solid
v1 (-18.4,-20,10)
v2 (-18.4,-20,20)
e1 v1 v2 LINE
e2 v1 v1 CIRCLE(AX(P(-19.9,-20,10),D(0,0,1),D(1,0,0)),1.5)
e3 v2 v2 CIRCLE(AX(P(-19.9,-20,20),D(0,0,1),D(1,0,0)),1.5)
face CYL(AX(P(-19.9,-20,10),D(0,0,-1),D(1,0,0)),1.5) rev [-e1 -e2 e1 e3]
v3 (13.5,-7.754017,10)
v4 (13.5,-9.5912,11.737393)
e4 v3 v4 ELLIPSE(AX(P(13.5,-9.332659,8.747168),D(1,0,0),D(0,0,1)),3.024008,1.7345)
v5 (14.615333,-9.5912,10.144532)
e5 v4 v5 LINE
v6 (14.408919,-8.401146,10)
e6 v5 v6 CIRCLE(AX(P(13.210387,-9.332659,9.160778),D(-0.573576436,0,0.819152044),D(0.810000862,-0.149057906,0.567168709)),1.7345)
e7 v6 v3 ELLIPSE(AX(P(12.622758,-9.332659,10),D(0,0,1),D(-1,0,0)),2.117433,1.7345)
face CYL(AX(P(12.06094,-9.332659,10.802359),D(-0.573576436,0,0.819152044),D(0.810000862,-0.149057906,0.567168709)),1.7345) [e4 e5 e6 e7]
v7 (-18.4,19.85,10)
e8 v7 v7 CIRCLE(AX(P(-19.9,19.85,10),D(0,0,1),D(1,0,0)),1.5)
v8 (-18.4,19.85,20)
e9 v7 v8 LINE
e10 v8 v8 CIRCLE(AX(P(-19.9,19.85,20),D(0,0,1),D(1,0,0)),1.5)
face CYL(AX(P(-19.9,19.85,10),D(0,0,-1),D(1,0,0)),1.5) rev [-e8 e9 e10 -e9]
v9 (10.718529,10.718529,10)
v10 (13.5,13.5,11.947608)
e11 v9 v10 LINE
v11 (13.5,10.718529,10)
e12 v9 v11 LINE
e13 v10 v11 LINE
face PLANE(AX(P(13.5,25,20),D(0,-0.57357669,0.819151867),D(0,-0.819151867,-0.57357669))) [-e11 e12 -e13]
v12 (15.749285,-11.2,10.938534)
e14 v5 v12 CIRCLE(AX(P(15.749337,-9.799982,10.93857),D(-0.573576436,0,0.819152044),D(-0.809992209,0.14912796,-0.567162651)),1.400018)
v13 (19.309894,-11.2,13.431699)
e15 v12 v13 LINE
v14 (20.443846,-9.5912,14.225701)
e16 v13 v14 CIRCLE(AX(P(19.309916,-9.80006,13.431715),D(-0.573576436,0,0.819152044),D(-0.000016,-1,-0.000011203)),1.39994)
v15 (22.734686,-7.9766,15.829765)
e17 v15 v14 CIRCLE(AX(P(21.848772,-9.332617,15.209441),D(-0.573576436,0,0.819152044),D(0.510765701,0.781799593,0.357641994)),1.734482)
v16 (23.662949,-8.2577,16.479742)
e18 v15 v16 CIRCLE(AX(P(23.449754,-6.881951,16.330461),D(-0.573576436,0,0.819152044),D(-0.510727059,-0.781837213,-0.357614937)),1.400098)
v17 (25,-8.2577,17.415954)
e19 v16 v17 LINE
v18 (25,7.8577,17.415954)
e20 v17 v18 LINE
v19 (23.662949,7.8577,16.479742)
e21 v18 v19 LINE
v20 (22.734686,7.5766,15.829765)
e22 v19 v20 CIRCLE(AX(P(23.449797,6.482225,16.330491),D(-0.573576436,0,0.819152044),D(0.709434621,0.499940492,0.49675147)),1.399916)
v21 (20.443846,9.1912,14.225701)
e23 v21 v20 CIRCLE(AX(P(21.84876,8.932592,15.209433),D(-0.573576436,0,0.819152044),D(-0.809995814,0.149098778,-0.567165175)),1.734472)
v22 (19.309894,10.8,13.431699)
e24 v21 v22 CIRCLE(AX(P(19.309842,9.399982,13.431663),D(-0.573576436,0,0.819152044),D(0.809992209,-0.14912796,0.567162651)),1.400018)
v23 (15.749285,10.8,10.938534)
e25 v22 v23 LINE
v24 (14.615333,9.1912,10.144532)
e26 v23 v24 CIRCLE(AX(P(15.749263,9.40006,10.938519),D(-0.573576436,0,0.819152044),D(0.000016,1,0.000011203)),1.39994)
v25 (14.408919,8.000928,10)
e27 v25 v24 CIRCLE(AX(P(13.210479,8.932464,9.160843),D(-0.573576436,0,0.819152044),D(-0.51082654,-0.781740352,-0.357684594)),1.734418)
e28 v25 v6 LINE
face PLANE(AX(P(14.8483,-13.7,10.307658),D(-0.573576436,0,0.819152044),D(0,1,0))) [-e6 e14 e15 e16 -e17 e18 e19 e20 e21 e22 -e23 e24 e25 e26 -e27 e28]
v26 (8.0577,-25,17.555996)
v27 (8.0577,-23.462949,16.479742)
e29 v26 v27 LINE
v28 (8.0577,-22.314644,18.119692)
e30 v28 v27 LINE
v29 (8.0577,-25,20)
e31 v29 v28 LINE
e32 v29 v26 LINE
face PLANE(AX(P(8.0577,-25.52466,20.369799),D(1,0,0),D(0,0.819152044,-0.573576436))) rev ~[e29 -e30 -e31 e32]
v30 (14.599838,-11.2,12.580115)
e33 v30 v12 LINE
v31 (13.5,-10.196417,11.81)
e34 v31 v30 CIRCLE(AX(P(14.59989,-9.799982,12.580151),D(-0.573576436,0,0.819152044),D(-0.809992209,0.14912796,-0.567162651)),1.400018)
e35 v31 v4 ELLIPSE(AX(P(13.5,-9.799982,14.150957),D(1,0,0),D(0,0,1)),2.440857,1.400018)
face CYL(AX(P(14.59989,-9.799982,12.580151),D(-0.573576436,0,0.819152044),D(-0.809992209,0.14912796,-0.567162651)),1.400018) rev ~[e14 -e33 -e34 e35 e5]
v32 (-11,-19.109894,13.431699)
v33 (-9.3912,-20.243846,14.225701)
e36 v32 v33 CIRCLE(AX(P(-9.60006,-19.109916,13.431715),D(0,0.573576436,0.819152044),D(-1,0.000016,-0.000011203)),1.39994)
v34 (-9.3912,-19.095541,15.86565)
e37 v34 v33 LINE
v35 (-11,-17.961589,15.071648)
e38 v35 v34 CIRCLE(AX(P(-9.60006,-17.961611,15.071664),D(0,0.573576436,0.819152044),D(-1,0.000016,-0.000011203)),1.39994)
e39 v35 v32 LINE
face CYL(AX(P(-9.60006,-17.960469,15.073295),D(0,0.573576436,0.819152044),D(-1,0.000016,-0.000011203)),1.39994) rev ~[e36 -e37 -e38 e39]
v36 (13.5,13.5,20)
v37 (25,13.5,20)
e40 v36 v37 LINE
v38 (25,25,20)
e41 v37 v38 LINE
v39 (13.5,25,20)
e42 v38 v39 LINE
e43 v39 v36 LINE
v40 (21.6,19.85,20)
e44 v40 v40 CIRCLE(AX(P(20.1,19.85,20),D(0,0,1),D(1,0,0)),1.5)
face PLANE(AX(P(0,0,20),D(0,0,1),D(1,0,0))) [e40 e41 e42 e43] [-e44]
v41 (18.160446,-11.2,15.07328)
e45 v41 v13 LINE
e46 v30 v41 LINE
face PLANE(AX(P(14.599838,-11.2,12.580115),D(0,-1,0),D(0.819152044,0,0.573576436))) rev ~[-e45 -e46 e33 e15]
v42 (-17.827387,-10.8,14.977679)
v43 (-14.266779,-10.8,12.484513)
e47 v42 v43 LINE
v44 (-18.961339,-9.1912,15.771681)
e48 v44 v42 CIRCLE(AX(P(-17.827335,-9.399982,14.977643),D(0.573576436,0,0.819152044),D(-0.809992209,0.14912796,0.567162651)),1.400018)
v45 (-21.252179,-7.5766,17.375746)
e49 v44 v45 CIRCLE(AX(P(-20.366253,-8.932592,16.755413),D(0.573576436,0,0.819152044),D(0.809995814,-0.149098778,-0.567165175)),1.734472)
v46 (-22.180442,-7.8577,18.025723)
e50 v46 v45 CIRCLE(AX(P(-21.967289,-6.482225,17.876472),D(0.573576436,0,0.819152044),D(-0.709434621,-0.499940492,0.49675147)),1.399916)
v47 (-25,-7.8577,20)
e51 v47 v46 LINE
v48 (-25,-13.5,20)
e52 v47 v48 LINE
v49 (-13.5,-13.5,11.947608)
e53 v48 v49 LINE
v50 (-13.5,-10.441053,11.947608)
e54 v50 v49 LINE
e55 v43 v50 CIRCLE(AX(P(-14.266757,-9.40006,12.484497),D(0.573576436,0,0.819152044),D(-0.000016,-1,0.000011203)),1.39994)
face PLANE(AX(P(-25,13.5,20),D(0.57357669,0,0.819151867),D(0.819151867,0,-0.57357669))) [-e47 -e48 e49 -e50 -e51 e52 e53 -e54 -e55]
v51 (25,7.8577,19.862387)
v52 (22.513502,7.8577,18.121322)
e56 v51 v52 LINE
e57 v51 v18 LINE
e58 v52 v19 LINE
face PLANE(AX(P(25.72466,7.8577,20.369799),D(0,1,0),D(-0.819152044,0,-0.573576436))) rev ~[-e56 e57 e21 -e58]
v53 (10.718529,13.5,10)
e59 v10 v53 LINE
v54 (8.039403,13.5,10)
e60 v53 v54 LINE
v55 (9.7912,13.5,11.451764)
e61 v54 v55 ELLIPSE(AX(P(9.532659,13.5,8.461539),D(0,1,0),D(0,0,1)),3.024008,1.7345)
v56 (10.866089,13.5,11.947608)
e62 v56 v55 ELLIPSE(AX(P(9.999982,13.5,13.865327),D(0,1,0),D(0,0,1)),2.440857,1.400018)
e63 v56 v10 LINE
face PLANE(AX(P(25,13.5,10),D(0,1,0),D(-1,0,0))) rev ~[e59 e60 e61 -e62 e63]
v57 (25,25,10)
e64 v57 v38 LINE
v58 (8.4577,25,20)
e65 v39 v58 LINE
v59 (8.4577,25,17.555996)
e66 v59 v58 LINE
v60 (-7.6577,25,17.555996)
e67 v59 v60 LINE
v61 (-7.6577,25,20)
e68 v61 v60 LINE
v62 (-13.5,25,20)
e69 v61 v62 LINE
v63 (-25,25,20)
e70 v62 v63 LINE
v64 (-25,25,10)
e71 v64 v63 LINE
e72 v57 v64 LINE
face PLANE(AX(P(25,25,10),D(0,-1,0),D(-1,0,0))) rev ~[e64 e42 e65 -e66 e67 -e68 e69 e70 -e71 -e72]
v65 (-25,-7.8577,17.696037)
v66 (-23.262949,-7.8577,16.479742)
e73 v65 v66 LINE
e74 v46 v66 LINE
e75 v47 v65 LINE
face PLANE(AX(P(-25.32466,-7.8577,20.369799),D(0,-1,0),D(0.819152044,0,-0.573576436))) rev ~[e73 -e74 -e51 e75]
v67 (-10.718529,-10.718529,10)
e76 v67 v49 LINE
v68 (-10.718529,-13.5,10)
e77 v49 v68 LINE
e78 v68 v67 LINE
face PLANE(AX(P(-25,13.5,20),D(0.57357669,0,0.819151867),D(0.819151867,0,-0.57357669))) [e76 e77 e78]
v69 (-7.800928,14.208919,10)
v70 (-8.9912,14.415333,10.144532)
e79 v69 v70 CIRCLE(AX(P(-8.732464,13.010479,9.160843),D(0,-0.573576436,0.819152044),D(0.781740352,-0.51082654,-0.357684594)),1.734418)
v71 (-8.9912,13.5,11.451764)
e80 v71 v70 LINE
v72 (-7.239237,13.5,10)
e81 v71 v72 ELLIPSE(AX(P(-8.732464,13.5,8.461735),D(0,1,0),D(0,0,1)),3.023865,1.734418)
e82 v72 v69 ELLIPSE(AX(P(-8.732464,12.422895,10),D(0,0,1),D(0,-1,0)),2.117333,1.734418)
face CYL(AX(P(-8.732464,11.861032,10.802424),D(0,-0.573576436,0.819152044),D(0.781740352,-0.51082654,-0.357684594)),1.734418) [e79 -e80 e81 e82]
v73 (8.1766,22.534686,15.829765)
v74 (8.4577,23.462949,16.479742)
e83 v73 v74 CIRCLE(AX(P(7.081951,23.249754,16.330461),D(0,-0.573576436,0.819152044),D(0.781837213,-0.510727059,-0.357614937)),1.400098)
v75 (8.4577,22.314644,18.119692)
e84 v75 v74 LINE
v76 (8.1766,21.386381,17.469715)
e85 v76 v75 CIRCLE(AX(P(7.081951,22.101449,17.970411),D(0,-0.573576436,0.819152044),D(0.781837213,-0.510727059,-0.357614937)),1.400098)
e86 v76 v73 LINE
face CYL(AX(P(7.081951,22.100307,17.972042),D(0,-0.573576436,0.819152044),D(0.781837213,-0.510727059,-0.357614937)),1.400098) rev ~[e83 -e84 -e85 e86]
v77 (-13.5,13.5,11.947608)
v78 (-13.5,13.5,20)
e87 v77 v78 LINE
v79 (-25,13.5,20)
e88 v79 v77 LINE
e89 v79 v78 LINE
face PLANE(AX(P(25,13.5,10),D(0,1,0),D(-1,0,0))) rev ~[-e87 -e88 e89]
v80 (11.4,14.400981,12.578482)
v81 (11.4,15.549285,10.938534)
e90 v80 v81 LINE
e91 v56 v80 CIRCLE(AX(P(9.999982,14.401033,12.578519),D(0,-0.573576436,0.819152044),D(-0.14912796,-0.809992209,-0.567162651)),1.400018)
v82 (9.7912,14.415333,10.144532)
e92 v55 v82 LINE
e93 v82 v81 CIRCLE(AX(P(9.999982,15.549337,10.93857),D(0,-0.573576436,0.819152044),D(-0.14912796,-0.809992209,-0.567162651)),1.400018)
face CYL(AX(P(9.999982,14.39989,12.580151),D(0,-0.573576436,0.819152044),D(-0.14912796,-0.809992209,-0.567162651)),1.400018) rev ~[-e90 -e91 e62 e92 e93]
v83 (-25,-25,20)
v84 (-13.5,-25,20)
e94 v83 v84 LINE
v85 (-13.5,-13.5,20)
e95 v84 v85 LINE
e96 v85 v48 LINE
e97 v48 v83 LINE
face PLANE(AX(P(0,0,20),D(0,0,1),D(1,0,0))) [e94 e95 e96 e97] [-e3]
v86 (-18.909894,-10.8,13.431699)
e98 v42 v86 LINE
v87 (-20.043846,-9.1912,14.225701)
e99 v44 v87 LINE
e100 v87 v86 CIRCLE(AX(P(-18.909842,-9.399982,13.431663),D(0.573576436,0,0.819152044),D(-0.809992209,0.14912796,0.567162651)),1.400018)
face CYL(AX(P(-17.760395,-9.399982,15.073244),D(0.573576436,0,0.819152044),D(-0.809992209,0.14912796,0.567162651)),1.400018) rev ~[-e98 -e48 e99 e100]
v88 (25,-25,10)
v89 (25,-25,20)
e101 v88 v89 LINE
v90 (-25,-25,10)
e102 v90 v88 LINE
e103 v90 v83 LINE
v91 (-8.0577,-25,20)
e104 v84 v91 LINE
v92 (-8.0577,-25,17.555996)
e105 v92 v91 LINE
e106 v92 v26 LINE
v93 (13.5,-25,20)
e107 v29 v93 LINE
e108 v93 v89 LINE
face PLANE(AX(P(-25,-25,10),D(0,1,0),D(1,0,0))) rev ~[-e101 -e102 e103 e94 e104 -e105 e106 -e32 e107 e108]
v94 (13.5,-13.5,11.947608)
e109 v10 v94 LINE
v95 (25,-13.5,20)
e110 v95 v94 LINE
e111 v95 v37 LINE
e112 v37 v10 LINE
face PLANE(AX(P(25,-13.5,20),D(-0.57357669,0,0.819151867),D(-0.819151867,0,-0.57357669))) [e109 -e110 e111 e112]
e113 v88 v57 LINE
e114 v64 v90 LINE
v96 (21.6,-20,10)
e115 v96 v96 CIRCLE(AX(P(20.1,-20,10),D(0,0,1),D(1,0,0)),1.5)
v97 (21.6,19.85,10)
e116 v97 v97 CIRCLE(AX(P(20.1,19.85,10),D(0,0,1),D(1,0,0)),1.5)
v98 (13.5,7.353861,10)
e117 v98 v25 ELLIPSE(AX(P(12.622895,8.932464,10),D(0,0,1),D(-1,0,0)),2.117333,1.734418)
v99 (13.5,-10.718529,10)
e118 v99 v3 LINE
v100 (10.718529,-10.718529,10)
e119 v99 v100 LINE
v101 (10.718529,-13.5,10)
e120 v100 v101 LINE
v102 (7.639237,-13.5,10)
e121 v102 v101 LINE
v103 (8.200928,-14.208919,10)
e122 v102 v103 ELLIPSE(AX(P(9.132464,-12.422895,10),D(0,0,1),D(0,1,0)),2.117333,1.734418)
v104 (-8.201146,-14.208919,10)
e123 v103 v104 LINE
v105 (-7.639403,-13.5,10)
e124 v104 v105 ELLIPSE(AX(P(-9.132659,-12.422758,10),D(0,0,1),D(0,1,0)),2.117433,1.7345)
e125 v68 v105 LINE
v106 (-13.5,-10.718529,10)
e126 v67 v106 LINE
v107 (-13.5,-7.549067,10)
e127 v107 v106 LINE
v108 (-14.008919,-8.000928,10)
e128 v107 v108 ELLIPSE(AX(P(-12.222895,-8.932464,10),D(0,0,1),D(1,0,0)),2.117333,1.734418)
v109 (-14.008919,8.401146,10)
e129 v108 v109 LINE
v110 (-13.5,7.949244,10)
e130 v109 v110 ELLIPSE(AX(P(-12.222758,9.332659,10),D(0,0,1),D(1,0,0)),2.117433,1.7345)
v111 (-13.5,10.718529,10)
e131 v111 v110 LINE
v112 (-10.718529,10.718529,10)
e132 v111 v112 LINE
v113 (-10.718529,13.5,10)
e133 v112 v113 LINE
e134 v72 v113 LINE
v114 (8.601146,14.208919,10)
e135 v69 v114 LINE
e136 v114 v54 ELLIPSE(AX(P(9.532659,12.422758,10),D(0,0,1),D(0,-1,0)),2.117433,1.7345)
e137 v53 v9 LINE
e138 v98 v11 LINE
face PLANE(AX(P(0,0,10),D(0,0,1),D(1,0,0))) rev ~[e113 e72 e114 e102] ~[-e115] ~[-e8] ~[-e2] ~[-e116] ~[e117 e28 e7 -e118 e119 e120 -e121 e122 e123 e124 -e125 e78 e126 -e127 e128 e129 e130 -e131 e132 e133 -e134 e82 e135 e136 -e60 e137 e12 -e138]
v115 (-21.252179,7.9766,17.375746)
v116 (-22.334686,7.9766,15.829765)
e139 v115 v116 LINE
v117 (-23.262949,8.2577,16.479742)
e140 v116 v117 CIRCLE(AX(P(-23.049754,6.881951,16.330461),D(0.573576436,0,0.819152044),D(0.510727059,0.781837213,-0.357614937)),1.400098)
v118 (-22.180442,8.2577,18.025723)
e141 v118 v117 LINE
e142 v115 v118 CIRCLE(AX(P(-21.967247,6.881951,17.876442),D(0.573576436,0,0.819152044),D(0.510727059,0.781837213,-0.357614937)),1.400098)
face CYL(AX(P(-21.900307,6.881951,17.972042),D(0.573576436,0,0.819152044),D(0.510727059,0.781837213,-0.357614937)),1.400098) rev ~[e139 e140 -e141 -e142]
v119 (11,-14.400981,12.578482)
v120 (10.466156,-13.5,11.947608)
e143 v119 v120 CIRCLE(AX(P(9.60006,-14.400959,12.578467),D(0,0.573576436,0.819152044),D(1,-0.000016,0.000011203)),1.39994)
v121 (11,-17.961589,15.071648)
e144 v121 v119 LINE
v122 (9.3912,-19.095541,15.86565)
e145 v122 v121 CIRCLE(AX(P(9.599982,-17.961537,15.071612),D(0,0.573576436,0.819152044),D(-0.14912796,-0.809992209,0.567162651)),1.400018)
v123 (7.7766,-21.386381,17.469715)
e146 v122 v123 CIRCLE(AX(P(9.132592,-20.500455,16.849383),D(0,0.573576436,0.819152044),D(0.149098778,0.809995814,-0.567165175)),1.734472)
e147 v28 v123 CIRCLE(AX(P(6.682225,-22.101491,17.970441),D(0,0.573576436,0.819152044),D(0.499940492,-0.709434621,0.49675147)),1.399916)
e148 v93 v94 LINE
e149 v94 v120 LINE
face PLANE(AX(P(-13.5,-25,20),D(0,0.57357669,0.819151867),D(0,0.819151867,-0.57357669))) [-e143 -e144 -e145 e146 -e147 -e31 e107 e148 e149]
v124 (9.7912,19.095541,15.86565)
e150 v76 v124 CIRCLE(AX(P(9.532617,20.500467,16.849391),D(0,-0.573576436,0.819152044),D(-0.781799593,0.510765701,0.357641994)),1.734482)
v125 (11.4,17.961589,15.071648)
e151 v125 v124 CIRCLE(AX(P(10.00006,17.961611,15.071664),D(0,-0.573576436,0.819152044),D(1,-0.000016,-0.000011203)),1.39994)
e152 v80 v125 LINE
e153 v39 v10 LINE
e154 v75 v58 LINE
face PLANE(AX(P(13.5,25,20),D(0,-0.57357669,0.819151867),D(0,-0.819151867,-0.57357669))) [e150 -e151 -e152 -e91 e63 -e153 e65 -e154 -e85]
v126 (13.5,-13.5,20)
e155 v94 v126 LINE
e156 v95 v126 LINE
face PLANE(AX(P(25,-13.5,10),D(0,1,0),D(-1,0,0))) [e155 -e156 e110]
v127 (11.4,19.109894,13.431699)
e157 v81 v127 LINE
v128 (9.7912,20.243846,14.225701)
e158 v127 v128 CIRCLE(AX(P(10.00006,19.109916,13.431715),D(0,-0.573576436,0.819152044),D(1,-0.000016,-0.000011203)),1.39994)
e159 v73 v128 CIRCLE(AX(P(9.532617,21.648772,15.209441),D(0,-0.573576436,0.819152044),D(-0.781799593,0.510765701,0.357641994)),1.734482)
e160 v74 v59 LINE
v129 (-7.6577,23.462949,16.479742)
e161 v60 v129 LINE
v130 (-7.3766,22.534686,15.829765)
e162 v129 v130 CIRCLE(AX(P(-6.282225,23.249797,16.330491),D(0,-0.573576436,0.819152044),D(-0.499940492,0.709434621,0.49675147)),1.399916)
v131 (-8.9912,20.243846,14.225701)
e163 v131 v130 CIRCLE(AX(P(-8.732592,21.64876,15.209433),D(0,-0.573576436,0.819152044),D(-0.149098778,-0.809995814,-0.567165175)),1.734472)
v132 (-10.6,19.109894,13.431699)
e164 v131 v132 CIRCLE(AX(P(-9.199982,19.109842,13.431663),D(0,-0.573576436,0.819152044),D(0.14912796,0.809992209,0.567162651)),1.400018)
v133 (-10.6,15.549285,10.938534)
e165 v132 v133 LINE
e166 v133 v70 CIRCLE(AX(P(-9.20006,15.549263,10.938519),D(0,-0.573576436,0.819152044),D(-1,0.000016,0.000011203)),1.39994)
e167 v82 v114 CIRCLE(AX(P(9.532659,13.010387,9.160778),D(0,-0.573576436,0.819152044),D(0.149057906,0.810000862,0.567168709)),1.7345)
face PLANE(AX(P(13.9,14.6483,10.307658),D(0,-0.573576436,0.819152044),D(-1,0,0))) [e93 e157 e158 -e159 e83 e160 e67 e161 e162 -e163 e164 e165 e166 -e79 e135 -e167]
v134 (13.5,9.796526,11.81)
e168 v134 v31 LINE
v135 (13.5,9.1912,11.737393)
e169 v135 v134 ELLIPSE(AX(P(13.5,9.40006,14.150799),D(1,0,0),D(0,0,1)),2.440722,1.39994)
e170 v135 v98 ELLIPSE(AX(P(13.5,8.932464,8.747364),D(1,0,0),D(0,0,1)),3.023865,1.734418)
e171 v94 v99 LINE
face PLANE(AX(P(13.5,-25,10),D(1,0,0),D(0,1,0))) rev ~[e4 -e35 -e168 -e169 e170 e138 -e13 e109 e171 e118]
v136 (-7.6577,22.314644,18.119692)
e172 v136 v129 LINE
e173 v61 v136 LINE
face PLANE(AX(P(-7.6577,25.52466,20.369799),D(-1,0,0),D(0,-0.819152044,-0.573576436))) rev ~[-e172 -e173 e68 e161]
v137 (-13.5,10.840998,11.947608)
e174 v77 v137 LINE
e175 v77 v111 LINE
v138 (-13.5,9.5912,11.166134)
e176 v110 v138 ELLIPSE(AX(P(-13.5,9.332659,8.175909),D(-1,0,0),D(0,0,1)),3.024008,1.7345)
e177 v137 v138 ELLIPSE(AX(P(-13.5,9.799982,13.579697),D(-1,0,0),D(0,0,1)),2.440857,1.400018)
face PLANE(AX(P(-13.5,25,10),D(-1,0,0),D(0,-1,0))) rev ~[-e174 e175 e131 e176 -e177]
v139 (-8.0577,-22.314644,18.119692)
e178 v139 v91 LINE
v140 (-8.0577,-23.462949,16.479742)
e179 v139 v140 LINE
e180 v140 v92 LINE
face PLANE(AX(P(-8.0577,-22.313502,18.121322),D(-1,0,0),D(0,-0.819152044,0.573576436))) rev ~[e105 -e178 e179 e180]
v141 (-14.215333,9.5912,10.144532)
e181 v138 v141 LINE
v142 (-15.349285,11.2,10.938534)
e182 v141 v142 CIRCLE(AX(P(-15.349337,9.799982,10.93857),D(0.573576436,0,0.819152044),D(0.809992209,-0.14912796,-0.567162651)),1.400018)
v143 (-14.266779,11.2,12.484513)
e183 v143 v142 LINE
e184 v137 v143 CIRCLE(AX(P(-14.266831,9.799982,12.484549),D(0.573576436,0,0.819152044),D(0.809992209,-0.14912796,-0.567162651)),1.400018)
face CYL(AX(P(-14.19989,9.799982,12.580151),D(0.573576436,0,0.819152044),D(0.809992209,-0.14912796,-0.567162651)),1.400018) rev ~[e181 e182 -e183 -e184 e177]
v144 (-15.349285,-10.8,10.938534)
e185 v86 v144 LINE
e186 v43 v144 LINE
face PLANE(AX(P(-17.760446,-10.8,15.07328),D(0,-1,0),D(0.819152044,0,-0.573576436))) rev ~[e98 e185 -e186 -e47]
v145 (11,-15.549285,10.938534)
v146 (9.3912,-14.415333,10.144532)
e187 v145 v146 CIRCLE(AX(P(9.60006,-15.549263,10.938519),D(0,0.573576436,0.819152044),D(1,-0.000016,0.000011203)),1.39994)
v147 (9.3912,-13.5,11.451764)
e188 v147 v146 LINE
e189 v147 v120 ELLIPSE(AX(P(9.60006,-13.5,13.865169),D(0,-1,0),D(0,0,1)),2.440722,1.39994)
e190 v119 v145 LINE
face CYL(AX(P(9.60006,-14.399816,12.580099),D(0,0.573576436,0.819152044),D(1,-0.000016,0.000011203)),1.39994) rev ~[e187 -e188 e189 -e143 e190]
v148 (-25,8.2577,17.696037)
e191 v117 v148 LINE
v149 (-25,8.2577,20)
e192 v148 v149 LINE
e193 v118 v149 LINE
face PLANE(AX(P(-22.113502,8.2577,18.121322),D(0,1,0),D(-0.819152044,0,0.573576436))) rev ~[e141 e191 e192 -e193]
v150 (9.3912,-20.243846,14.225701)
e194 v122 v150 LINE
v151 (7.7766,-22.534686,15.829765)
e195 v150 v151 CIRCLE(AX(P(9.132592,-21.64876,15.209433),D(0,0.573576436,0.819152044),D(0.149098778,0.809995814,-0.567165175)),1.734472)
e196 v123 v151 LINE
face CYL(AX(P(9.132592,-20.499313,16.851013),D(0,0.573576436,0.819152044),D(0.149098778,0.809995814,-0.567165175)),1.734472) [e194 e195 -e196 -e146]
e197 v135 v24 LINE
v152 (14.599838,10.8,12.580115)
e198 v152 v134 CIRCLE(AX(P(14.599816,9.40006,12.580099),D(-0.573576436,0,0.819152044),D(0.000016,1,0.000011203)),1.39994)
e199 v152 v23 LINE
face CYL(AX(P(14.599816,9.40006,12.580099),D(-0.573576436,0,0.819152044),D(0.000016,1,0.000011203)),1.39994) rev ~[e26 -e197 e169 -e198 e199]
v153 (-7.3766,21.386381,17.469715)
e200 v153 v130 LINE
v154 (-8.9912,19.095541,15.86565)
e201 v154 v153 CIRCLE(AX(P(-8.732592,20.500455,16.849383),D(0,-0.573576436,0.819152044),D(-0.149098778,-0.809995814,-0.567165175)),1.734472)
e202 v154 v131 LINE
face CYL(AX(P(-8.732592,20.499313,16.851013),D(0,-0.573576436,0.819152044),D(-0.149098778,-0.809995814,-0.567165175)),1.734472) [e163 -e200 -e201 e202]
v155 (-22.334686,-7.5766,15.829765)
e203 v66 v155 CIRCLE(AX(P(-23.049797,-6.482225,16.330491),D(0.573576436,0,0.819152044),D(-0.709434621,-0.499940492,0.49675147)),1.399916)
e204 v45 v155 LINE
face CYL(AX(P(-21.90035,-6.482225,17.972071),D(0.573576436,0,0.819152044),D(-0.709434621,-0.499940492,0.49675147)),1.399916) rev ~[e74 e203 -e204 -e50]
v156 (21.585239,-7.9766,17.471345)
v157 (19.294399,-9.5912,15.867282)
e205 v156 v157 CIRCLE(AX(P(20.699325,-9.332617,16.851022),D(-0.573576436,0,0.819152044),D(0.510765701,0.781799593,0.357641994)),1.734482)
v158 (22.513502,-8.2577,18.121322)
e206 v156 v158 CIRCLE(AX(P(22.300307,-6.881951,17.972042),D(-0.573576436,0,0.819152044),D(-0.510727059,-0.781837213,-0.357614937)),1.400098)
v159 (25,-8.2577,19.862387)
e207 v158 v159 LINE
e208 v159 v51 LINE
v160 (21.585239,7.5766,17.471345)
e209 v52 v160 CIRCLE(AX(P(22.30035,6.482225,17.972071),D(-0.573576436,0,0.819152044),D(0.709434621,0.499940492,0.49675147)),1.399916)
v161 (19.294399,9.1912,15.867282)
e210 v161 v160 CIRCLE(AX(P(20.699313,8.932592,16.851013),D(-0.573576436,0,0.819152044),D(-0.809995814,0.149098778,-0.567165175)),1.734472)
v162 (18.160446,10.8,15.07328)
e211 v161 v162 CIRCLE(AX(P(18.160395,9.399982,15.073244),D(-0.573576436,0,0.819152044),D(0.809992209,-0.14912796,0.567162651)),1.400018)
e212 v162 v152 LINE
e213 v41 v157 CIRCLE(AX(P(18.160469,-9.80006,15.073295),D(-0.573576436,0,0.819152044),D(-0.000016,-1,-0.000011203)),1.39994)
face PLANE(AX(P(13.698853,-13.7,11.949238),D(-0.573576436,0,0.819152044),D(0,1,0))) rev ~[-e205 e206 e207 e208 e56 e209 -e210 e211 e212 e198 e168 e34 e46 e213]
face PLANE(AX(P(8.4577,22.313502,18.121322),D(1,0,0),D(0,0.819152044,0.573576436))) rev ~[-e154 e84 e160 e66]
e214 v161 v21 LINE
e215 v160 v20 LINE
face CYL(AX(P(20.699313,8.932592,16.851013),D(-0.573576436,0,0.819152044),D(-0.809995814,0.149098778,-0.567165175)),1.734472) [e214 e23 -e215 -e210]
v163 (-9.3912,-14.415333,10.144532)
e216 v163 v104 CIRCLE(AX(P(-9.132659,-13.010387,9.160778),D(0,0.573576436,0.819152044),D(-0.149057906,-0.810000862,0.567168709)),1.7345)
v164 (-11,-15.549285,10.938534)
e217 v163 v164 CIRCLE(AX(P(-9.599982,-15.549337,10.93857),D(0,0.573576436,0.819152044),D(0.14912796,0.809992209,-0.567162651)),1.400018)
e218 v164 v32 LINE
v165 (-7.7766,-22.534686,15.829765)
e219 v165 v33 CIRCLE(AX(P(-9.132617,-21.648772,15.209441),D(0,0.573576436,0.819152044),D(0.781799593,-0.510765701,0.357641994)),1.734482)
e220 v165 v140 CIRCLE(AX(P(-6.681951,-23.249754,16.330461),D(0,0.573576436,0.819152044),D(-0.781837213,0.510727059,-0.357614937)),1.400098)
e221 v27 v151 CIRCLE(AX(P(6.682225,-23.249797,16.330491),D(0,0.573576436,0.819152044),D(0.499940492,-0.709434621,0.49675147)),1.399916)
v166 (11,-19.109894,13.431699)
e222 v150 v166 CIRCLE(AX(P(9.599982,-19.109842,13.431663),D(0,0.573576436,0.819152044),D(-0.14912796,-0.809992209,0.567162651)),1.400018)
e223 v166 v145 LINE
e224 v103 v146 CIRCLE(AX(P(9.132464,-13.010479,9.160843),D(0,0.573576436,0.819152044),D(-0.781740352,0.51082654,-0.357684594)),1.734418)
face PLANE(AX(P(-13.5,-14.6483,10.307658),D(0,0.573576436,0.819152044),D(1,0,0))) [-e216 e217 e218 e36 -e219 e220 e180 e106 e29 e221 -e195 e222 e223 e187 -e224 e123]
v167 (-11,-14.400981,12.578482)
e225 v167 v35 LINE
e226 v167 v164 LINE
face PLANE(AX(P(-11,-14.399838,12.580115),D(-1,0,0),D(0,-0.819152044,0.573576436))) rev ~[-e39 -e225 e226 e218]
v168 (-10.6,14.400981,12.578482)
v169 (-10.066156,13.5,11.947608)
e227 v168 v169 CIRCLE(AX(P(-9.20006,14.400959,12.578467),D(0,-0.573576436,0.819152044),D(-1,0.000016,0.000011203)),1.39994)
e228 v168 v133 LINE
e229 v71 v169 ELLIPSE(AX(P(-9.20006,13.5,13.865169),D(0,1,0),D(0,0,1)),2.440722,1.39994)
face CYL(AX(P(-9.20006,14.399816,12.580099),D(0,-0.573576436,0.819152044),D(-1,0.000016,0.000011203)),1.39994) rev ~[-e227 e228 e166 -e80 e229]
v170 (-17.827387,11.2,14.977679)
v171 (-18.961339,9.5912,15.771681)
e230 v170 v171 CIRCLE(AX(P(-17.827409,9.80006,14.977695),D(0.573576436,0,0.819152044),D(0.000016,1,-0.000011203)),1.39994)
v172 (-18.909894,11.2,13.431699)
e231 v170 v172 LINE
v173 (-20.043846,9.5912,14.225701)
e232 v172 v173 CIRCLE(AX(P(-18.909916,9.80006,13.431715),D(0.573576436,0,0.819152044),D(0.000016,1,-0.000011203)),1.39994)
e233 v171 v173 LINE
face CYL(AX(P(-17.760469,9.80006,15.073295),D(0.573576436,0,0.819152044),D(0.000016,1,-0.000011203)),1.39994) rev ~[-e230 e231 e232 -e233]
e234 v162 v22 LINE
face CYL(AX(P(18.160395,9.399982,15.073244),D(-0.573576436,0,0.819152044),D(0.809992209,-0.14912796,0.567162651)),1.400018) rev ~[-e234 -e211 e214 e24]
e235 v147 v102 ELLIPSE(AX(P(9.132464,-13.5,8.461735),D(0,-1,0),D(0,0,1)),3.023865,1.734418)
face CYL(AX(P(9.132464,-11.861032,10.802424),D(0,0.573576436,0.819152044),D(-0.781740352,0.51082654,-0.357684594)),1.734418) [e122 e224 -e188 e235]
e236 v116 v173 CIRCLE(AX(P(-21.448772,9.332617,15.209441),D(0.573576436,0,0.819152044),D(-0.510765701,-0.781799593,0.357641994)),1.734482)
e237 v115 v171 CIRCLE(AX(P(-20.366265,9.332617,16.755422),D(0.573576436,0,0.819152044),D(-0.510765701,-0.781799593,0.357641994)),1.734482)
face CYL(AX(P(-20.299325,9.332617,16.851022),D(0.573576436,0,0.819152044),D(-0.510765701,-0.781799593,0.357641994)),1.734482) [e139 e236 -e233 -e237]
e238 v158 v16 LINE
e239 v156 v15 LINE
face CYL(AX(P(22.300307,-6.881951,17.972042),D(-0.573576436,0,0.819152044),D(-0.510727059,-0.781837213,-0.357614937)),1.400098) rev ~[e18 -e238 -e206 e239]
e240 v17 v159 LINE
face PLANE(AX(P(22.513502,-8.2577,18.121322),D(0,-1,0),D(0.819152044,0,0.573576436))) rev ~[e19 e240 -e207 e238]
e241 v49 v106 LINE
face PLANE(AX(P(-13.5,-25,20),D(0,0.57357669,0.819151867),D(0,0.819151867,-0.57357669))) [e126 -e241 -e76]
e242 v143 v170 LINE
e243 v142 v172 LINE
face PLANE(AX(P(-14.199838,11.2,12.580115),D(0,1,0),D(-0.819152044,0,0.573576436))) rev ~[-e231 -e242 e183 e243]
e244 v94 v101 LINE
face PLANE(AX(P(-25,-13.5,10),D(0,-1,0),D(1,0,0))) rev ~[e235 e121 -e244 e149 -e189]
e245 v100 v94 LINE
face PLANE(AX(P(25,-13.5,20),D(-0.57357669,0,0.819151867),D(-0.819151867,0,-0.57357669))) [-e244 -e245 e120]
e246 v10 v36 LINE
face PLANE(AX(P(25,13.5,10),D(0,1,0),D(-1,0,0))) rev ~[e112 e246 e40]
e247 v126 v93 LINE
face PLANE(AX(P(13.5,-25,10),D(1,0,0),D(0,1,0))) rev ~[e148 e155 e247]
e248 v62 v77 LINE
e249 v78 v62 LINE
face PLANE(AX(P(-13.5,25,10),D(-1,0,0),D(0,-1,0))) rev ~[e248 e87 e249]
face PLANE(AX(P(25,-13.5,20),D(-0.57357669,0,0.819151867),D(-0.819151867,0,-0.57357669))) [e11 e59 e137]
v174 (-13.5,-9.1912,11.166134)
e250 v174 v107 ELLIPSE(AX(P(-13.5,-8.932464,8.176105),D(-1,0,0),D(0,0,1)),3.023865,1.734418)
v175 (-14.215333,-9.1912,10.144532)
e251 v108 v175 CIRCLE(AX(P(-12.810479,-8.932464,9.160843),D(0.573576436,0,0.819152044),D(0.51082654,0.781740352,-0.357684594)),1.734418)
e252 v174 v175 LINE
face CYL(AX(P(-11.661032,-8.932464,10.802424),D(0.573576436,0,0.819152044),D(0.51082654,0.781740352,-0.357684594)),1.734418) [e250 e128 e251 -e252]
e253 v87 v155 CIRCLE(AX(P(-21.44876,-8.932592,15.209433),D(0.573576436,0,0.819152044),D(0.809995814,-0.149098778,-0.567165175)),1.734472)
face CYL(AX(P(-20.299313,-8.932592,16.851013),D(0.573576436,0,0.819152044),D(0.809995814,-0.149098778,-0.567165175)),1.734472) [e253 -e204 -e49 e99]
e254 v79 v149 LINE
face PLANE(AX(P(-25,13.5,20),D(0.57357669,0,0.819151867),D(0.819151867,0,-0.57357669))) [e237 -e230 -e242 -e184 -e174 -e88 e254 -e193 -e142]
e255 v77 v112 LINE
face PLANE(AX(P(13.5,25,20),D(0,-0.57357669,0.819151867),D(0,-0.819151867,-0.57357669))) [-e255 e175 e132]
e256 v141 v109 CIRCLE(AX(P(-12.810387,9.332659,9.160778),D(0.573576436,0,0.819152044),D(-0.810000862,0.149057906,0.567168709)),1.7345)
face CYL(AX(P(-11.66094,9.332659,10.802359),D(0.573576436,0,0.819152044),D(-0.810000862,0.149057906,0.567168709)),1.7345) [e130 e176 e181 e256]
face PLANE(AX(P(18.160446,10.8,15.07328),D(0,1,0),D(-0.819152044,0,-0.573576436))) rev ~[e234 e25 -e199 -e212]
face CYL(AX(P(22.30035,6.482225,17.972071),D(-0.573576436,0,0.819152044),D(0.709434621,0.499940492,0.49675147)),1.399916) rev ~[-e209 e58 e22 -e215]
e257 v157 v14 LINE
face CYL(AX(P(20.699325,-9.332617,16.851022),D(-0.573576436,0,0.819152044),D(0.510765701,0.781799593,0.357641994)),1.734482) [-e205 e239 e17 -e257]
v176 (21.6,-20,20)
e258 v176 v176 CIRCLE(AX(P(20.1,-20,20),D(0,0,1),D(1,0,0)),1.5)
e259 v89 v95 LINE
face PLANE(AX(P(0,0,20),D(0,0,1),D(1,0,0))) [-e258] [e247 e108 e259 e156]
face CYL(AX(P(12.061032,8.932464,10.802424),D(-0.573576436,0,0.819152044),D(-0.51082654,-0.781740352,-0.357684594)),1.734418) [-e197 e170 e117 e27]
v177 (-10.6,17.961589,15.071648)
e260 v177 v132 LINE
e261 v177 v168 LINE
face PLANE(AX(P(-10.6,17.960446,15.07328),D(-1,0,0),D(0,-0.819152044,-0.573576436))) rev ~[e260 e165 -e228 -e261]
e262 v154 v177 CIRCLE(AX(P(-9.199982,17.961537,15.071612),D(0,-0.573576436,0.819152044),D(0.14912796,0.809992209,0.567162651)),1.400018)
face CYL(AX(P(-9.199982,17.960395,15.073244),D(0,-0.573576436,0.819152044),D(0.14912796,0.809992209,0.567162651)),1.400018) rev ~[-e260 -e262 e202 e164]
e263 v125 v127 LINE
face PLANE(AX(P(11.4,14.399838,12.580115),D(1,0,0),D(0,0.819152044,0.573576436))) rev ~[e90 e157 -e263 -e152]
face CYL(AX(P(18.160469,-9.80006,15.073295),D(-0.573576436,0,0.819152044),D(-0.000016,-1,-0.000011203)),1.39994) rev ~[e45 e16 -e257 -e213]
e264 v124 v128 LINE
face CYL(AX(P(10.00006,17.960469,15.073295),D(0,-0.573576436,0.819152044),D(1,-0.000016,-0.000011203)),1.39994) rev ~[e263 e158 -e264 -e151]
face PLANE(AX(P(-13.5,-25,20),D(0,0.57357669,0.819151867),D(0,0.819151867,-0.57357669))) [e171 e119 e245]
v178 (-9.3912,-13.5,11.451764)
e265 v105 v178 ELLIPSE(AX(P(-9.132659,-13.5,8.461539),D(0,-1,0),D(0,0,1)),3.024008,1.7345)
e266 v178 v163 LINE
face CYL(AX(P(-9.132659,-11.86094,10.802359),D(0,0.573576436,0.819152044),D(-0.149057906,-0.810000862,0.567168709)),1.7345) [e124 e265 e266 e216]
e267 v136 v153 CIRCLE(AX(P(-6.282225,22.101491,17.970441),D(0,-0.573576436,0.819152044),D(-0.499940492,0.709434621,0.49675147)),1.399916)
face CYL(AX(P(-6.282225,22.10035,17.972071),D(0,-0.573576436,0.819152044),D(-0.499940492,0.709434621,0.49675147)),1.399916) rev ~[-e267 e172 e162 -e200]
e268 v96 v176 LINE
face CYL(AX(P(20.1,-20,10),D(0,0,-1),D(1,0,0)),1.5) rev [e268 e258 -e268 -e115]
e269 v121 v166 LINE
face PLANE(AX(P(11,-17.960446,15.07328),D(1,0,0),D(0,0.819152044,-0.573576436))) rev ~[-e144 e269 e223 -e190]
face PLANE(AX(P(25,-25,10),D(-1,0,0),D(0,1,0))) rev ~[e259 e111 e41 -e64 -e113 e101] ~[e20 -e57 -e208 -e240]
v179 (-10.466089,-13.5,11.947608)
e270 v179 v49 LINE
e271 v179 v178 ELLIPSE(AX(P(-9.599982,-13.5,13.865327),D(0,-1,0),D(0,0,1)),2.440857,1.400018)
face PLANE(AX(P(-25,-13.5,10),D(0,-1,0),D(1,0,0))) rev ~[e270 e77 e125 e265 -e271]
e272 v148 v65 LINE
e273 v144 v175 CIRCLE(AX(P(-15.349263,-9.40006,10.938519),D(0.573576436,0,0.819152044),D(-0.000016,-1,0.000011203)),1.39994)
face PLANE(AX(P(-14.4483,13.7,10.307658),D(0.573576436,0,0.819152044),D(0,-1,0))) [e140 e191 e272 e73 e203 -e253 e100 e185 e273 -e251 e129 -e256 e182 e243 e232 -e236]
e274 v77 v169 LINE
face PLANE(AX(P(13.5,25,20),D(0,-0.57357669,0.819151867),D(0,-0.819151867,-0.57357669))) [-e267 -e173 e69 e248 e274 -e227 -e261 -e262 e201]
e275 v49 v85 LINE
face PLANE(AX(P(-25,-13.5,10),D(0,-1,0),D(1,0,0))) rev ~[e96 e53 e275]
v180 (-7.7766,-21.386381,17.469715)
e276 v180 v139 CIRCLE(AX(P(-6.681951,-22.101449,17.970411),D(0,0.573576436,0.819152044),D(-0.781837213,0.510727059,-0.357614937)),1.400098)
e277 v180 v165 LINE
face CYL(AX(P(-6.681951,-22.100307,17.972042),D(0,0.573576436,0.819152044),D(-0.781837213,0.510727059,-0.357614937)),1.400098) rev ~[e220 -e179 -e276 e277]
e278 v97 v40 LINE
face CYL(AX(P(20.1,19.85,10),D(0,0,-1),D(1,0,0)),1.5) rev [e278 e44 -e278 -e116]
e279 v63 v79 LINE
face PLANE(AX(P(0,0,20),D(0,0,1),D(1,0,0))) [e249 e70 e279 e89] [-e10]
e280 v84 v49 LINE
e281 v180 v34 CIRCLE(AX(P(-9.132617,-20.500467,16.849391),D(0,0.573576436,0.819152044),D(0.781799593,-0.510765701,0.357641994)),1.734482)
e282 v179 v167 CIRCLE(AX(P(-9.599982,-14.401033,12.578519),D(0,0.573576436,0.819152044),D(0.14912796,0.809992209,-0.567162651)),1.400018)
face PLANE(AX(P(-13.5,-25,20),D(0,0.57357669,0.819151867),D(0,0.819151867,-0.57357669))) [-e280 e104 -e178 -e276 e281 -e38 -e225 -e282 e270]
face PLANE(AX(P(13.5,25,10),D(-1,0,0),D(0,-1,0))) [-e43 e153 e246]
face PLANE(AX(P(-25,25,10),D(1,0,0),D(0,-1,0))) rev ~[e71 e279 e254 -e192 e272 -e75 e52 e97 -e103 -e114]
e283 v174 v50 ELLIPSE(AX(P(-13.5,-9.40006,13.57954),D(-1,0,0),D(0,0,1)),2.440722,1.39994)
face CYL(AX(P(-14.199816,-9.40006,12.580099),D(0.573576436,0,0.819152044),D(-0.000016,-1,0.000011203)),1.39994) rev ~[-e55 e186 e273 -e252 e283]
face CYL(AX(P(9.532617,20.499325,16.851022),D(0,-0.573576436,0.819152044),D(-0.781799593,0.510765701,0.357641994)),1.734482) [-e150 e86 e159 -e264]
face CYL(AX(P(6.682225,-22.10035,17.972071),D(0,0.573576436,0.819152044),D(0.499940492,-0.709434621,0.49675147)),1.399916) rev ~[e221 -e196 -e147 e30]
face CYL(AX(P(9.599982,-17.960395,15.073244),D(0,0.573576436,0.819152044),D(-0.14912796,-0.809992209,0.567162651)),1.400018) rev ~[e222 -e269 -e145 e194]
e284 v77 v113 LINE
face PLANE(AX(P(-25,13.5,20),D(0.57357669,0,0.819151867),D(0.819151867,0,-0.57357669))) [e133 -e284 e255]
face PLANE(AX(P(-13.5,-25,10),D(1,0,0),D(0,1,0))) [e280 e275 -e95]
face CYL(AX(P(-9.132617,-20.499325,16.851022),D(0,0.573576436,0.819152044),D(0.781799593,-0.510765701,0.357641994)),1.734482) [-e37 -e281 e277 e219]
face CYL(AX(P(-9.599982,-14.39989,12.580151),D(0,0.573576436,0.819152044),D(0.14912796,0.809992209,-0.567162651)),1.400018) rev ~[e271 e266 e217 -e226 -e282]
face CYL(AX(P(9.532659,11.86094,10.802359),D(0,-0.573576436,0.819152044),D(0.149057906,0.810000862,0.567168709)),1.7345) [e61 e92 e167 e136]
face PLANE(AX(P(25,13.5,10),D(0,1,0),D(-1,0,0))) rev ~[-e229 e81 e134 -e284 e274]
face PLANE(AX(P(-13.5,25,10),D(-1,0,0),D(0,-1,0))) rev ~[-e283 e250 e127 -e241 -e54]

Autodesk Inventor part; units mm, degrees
ref_plane "Work Plane1" through (0, 0, 10) normal (0, 0, 1) x (1, 0, 0)
sketch "Sketch1" plane through (0, 0, 10) normal (0, 0, 1) x (1, 0, 0)
  circle A0 centre (0, 0) radius 15 construction
  circle A1 centre (-19.9, -20) radius 1.5 projected
  circle A2 centre (20.1, -20) radius 1.5 projected
  circle A3 centre (20.1, 19.85) radius 1.5 projected
  circle A4 centre (-19.9, 19.85) radius 1.5 projected
  line L0 (-25, 25) -> (25, 25) construction
  line L1 (-25, -25) -> (-25, 25) construction
  line L2 (25, -25) -> (-25, -25) construction
  line L3 (25, 25) -> (25, -25) construction
  line L4 (25, 25) -> (-25, 25)
  line L5 (-25, 25) -> (-25, -25)
  line L6 (-25, -25) -> (25, -25)
  line L7 (25, -25) -> (25, 25)
  circle A5 centre (0, 0) radius 15
  circle A6 centre (0, 0) radius 13
  point P0 (0, 0)
  dimension "d15" = 2
extrude "Extrusion1" add sketch "Sketch1" along normal blind 10 contours L7 L6 L5 L4 | A5
ref_plane "Work Plane2" through (-25, 0, 10) normal (0, -1, 0) x (1, 0, 0)
ref_plane "Work Plane3" through (-24.8, 13.5, 23.5) normal (0, -1, 0) x (1, 0, 0)
ref_plane "Work Plane4" through (-24.8, -13.5, 23.5) normal (0, 1, 0) x (0, 0, 1)
ref_plane "Work Plane5" through (-24.8, 13.5, 25.5) normal (0, -1, 0) x (1, 0, 0)
ref_plane "Work Plane6" through (-24.8, -13.5, 25.5) normal (0, 1, 0) x (0, 0, 1)
sketch "Sketch2" plane through (-25, 0, 10) normal (0, -1, 0) x (1, 0, 0)
  line L0 (50, 10) -> (0, 10) projected
  line L1 (10, 10) -> (40, 10) projected
  line L2 (0, 0) -> (0, 10) projected
  line L3 (0, 10) -> (25, -7.5052)
  line L4 (0, 10) -> (30.5194, 10) construction
  line L5 (25, -7.5052) -> (25, 10)
  line L6 (0, 10) -> (25, 10)
  point P0 (25, -10)
  point P1 (22.6369, 10)
  dimension "d8" = 35
extrude "Extrusion2" cut sketch "Sketch2" along normal up to surface (27 mm away) from surface at -13.5
pattern_circular "Circular Pattern1" count 4 over 360 about axis through (0, 0, 10) along (0, 0, 1) of "Extrusion2"
sketch "Sketch3" plane through (-13.5, -25, 20) normal (0, 0.5736, 0.8192) x (1, 0, 0)
  line L0 (-11.5, 5.7358) -> (38.5, 5.7358) projected
  circle A0 centre (13.5, 10.7656) radius 4.6099 construction
  point P0 (13.5, 31.9503)
sketch "Sketch4" plane through (-13.5, -13.5, 11.9476) normal (0, 0.5736, 0.8192) x (1, 0, 0)
  arc A0 (20.4949, 3.7045) -> (20.3821, 4.3003) centre (20.1821, 3.9539) ccw construction
  arc A1 (20.4949, 3.7045) -> (23.0404, -0.7044) centre (22.6326, 1.9994) ccw construction
  arc A2 (23.5, -1.0999) -> (23.0404, -0.7044) centre (23.1, -1.0999) ccw construction
  line L0 (23.5, -5.4466) -> (23.5, -1.0999) construction
  arc A3 (23.0404, -5.8421) -> (23.5, -5.4466) centre (23.1, -5.4466) ccw construction
  arc A4 (23.0404, -5.8421) -> (20.4949, -10.251) centre (22.6326, -8.546) ccw construction
  arc A5 (20.3821, -10.8469) -> (20.4949, -10.251) centre (20.1821, -10.5004) ccw construction
  line L1 (16.6179, -13.0202) -> (20.3821, -10.8469) construction
  arc A6 (16.0455, -12.8199) -> (16.6179, -13.0202) centre (16.4179, -12.6738) ccw construction
  arc A7 (16.0455, -12.8199) -> (10.9545, -12.8199) centre (13.5, -13.8187) ccw construction
  arc A8 (10.3821, -13.0202) -> (10.9545, -12.8199) centre (10.5821, -12.6738) ccw construction
  line L2 (6.6179, -10.8469) -> (10.3821, -13.0202) construction
  arc A9 (6.5051, -10.251) -> (6.6179, -10.8469) centre (6.8179, -10.5004) ccw construction
  arc A10 (6.5051, -10.251) -> (3.9596, -5.8421) centre (4.3674, -8.546) ccw construction
  arc A11 (3.5, -5.4466) -> (3.9596, -5.8421) centre (3.9, -5.4466) ccw construction
  line L3 (3.5, -1.0999) -> (3.5, -5.4466) construction
  arc A12 (3.9596, -0.7044) -> (3.5, -1.0999) centre (3.9, -1.0999) ccw construction
  arc A13 (3.9596, -0.7044) -> (6.5051, 3.7045) centre (4.3674, 1.9994) ccw construction
  arc A14 (6.6179, 4.3003) -> (6.5051, 3.7045) centre (6.8179, 3.9539) ccw construction
  line L4 (10.3821, 6.4736) -> (6.6179, 4.3003) construction
  arc A15 (10.9545, 6.2733) -> (10.3821, 6.4736) centre (10.5821, 6.1272) ccw construction
  arc A16 (10.9545, 6.2733) -> (16.0455, 6.2733) centre (13.5, 7.2721) ccw construction
  arc A17 (16.6179, 6.4736) -> (16.0455, 6.2733) centre (16.4179, 6.1272) ccw construction
  line L5 (20.3821, 4.3003) -> (16.6179, 6.4736) construction
  arc A18 (17.1179, 7.3397) -> (15.1146, 6.6386) centre (16.4179, 6.1272) ccw
  arc A19 (11.8854, 6.6386) -> (15.1146, 6.6386) centre (13.5, 7.2721) ccw
  arc A20 (11.8854, 6.6386) -> (9.8821, 7.3397) centre (10.5821, 6.1272) ccw
  line L6 (9.8821, 7.3397) -> (6.1179, 5.1664)
  arc A21 (6.1179, 5.1664) -> (5.7234, 3.081) centre (6.8179, 3.9539) ccw
  arc A22 (4.1088, 0.2844) -> (5.7234, 3.081) centre (4.3674, 1.9994) ccw
  arc A23 (4.1088, 0.2844) -> (2.5, -1.0999) centre (3.9, -1.0999) ccw
  line L7 (2.5, -1.0999) -> (2.5, -5.4466)
  arc A24 (2.5, -5.4466) -> (4.1088, -6.8309) centre (3.9, -5.4466) ccw
  arc A25 (5.7234, -9.6275) -> (4.1088, -6.8309) centre (4.3674, -8.546) ccw
  arc A26 (5.7234, -9.6275) -> (6.1179, -11.7129) centre (6.8179, -10.5004) ccw
  line L8 (6.1179, -11.7129) -> (9.8821, -13.8862)
  arc A27 (9.8821, -13.8862) -> (11.8854, -13.1851) centre (10.5821, -12.6738) ccw
  arc A28 (15.1146, -13.1851) -> (11.8854, -13.1851) centre (13.5, -13.8187) ccw
  arc A29 (15.1146, -13.1851) -> (17.1179, -13.8862) centre (16.4179, -12.6738) ccw
  line L9 (17.1179, -13.8862) -> (20.8821, -11.7129)
  arc A30 (20.8821, -11.7129) -> (21.2766, -9.6275) centre (20.1821, -10.5004) ccw
  arc A31 (22.8912, -6.8309) -> (21.2766, -9.6275) centre (22.6326, -8.546) ccw
  arc A32 (22.8912, -6.8309) -> (24.5, -5.4466) centre (23.1, -5.4466) ccw
  line L10 (24.5, -5.4466) -> (24.5, -1.0999)
  arc A33 (24.5, -1.0999) -> (22.8912, 0.2844) centre (23.1, -1.0999) ccw
  arc A34 (21.2766, 3.081) -> (22.8912, 0.2844) centre (22.6326, 1.9994) ccw
  arc A35 (21.2766, 3.081) -> (20.8821, 5.1664) centre (20.1821, 3.9539) ccw
  line L11 (20.8821, 5.1664) -> (17.1179, 7.3397)
  line L12 (21.5577, -10.7607) -> (5.4423, -10.7607)
  line L13 (5.4423, -10.7607) -> (5.4423, -14.6808)
  line L14 (5.4423, -14.6808) -> (21.5577, -14.6808)
  line L15 (21.5577, -14.6808) -> (21.5577, -10.7607)
  point P0 (13.5, 17.9114)
  dimension "d16" = 1
extrude "Extrusion4" cut sketch "Sketch4" against normal blind 2
pattern_circular "Circular Pattern3" count 4 over 360 about axis through (0.2, 0, 46.5088) along (0, 0, 1) of "Extrusion4"
sketch "Sketch5" plane through (25, -25, 10) normal (1, 0, 0) x (0, 0, -1)
  line L0 (-7.4184, 32.8577) -> (-7.4184, 16.7423) projected
  line L1 (-7.4184, 16.7423) -> (-9.86, 16.7423) projected
  line L2 (-9.86, 16.7423) -> (-9.86, 32.8577) projected
  line L3 (-9.86, 32.8577) -> (-7.4184, 32.8577) projected
  line L4 (0, 0) -> (0, 50) projected
  line L5 (0, 50) -> (-10, 50) projected
  line L6 (-10, 38.5) -> (-10, 50) projected
  line L7 (-10, 11.5) -> (-10, 38.5) projected
  line L8 (-10, 0) -> (-10, 11.5) projected
  line L9 (0, 0) -> (-10, 0) projected
  line L10 (-6.3859, 36.4329) -> (-6.3859, 47.5514) construction
  line L11 (-6.3859, 47.5514) -> (10.2283, 47.5514) construction
  line L12 (10.2283, 47.5514) -> (10.2283, 36.4329) construction
  line L13 (10.2283, 36.4329) -> (-6.3859, 36.4329) construction
  point P0 (10, 25)
properties part number "30_Z_Stage_Fluomodule"
